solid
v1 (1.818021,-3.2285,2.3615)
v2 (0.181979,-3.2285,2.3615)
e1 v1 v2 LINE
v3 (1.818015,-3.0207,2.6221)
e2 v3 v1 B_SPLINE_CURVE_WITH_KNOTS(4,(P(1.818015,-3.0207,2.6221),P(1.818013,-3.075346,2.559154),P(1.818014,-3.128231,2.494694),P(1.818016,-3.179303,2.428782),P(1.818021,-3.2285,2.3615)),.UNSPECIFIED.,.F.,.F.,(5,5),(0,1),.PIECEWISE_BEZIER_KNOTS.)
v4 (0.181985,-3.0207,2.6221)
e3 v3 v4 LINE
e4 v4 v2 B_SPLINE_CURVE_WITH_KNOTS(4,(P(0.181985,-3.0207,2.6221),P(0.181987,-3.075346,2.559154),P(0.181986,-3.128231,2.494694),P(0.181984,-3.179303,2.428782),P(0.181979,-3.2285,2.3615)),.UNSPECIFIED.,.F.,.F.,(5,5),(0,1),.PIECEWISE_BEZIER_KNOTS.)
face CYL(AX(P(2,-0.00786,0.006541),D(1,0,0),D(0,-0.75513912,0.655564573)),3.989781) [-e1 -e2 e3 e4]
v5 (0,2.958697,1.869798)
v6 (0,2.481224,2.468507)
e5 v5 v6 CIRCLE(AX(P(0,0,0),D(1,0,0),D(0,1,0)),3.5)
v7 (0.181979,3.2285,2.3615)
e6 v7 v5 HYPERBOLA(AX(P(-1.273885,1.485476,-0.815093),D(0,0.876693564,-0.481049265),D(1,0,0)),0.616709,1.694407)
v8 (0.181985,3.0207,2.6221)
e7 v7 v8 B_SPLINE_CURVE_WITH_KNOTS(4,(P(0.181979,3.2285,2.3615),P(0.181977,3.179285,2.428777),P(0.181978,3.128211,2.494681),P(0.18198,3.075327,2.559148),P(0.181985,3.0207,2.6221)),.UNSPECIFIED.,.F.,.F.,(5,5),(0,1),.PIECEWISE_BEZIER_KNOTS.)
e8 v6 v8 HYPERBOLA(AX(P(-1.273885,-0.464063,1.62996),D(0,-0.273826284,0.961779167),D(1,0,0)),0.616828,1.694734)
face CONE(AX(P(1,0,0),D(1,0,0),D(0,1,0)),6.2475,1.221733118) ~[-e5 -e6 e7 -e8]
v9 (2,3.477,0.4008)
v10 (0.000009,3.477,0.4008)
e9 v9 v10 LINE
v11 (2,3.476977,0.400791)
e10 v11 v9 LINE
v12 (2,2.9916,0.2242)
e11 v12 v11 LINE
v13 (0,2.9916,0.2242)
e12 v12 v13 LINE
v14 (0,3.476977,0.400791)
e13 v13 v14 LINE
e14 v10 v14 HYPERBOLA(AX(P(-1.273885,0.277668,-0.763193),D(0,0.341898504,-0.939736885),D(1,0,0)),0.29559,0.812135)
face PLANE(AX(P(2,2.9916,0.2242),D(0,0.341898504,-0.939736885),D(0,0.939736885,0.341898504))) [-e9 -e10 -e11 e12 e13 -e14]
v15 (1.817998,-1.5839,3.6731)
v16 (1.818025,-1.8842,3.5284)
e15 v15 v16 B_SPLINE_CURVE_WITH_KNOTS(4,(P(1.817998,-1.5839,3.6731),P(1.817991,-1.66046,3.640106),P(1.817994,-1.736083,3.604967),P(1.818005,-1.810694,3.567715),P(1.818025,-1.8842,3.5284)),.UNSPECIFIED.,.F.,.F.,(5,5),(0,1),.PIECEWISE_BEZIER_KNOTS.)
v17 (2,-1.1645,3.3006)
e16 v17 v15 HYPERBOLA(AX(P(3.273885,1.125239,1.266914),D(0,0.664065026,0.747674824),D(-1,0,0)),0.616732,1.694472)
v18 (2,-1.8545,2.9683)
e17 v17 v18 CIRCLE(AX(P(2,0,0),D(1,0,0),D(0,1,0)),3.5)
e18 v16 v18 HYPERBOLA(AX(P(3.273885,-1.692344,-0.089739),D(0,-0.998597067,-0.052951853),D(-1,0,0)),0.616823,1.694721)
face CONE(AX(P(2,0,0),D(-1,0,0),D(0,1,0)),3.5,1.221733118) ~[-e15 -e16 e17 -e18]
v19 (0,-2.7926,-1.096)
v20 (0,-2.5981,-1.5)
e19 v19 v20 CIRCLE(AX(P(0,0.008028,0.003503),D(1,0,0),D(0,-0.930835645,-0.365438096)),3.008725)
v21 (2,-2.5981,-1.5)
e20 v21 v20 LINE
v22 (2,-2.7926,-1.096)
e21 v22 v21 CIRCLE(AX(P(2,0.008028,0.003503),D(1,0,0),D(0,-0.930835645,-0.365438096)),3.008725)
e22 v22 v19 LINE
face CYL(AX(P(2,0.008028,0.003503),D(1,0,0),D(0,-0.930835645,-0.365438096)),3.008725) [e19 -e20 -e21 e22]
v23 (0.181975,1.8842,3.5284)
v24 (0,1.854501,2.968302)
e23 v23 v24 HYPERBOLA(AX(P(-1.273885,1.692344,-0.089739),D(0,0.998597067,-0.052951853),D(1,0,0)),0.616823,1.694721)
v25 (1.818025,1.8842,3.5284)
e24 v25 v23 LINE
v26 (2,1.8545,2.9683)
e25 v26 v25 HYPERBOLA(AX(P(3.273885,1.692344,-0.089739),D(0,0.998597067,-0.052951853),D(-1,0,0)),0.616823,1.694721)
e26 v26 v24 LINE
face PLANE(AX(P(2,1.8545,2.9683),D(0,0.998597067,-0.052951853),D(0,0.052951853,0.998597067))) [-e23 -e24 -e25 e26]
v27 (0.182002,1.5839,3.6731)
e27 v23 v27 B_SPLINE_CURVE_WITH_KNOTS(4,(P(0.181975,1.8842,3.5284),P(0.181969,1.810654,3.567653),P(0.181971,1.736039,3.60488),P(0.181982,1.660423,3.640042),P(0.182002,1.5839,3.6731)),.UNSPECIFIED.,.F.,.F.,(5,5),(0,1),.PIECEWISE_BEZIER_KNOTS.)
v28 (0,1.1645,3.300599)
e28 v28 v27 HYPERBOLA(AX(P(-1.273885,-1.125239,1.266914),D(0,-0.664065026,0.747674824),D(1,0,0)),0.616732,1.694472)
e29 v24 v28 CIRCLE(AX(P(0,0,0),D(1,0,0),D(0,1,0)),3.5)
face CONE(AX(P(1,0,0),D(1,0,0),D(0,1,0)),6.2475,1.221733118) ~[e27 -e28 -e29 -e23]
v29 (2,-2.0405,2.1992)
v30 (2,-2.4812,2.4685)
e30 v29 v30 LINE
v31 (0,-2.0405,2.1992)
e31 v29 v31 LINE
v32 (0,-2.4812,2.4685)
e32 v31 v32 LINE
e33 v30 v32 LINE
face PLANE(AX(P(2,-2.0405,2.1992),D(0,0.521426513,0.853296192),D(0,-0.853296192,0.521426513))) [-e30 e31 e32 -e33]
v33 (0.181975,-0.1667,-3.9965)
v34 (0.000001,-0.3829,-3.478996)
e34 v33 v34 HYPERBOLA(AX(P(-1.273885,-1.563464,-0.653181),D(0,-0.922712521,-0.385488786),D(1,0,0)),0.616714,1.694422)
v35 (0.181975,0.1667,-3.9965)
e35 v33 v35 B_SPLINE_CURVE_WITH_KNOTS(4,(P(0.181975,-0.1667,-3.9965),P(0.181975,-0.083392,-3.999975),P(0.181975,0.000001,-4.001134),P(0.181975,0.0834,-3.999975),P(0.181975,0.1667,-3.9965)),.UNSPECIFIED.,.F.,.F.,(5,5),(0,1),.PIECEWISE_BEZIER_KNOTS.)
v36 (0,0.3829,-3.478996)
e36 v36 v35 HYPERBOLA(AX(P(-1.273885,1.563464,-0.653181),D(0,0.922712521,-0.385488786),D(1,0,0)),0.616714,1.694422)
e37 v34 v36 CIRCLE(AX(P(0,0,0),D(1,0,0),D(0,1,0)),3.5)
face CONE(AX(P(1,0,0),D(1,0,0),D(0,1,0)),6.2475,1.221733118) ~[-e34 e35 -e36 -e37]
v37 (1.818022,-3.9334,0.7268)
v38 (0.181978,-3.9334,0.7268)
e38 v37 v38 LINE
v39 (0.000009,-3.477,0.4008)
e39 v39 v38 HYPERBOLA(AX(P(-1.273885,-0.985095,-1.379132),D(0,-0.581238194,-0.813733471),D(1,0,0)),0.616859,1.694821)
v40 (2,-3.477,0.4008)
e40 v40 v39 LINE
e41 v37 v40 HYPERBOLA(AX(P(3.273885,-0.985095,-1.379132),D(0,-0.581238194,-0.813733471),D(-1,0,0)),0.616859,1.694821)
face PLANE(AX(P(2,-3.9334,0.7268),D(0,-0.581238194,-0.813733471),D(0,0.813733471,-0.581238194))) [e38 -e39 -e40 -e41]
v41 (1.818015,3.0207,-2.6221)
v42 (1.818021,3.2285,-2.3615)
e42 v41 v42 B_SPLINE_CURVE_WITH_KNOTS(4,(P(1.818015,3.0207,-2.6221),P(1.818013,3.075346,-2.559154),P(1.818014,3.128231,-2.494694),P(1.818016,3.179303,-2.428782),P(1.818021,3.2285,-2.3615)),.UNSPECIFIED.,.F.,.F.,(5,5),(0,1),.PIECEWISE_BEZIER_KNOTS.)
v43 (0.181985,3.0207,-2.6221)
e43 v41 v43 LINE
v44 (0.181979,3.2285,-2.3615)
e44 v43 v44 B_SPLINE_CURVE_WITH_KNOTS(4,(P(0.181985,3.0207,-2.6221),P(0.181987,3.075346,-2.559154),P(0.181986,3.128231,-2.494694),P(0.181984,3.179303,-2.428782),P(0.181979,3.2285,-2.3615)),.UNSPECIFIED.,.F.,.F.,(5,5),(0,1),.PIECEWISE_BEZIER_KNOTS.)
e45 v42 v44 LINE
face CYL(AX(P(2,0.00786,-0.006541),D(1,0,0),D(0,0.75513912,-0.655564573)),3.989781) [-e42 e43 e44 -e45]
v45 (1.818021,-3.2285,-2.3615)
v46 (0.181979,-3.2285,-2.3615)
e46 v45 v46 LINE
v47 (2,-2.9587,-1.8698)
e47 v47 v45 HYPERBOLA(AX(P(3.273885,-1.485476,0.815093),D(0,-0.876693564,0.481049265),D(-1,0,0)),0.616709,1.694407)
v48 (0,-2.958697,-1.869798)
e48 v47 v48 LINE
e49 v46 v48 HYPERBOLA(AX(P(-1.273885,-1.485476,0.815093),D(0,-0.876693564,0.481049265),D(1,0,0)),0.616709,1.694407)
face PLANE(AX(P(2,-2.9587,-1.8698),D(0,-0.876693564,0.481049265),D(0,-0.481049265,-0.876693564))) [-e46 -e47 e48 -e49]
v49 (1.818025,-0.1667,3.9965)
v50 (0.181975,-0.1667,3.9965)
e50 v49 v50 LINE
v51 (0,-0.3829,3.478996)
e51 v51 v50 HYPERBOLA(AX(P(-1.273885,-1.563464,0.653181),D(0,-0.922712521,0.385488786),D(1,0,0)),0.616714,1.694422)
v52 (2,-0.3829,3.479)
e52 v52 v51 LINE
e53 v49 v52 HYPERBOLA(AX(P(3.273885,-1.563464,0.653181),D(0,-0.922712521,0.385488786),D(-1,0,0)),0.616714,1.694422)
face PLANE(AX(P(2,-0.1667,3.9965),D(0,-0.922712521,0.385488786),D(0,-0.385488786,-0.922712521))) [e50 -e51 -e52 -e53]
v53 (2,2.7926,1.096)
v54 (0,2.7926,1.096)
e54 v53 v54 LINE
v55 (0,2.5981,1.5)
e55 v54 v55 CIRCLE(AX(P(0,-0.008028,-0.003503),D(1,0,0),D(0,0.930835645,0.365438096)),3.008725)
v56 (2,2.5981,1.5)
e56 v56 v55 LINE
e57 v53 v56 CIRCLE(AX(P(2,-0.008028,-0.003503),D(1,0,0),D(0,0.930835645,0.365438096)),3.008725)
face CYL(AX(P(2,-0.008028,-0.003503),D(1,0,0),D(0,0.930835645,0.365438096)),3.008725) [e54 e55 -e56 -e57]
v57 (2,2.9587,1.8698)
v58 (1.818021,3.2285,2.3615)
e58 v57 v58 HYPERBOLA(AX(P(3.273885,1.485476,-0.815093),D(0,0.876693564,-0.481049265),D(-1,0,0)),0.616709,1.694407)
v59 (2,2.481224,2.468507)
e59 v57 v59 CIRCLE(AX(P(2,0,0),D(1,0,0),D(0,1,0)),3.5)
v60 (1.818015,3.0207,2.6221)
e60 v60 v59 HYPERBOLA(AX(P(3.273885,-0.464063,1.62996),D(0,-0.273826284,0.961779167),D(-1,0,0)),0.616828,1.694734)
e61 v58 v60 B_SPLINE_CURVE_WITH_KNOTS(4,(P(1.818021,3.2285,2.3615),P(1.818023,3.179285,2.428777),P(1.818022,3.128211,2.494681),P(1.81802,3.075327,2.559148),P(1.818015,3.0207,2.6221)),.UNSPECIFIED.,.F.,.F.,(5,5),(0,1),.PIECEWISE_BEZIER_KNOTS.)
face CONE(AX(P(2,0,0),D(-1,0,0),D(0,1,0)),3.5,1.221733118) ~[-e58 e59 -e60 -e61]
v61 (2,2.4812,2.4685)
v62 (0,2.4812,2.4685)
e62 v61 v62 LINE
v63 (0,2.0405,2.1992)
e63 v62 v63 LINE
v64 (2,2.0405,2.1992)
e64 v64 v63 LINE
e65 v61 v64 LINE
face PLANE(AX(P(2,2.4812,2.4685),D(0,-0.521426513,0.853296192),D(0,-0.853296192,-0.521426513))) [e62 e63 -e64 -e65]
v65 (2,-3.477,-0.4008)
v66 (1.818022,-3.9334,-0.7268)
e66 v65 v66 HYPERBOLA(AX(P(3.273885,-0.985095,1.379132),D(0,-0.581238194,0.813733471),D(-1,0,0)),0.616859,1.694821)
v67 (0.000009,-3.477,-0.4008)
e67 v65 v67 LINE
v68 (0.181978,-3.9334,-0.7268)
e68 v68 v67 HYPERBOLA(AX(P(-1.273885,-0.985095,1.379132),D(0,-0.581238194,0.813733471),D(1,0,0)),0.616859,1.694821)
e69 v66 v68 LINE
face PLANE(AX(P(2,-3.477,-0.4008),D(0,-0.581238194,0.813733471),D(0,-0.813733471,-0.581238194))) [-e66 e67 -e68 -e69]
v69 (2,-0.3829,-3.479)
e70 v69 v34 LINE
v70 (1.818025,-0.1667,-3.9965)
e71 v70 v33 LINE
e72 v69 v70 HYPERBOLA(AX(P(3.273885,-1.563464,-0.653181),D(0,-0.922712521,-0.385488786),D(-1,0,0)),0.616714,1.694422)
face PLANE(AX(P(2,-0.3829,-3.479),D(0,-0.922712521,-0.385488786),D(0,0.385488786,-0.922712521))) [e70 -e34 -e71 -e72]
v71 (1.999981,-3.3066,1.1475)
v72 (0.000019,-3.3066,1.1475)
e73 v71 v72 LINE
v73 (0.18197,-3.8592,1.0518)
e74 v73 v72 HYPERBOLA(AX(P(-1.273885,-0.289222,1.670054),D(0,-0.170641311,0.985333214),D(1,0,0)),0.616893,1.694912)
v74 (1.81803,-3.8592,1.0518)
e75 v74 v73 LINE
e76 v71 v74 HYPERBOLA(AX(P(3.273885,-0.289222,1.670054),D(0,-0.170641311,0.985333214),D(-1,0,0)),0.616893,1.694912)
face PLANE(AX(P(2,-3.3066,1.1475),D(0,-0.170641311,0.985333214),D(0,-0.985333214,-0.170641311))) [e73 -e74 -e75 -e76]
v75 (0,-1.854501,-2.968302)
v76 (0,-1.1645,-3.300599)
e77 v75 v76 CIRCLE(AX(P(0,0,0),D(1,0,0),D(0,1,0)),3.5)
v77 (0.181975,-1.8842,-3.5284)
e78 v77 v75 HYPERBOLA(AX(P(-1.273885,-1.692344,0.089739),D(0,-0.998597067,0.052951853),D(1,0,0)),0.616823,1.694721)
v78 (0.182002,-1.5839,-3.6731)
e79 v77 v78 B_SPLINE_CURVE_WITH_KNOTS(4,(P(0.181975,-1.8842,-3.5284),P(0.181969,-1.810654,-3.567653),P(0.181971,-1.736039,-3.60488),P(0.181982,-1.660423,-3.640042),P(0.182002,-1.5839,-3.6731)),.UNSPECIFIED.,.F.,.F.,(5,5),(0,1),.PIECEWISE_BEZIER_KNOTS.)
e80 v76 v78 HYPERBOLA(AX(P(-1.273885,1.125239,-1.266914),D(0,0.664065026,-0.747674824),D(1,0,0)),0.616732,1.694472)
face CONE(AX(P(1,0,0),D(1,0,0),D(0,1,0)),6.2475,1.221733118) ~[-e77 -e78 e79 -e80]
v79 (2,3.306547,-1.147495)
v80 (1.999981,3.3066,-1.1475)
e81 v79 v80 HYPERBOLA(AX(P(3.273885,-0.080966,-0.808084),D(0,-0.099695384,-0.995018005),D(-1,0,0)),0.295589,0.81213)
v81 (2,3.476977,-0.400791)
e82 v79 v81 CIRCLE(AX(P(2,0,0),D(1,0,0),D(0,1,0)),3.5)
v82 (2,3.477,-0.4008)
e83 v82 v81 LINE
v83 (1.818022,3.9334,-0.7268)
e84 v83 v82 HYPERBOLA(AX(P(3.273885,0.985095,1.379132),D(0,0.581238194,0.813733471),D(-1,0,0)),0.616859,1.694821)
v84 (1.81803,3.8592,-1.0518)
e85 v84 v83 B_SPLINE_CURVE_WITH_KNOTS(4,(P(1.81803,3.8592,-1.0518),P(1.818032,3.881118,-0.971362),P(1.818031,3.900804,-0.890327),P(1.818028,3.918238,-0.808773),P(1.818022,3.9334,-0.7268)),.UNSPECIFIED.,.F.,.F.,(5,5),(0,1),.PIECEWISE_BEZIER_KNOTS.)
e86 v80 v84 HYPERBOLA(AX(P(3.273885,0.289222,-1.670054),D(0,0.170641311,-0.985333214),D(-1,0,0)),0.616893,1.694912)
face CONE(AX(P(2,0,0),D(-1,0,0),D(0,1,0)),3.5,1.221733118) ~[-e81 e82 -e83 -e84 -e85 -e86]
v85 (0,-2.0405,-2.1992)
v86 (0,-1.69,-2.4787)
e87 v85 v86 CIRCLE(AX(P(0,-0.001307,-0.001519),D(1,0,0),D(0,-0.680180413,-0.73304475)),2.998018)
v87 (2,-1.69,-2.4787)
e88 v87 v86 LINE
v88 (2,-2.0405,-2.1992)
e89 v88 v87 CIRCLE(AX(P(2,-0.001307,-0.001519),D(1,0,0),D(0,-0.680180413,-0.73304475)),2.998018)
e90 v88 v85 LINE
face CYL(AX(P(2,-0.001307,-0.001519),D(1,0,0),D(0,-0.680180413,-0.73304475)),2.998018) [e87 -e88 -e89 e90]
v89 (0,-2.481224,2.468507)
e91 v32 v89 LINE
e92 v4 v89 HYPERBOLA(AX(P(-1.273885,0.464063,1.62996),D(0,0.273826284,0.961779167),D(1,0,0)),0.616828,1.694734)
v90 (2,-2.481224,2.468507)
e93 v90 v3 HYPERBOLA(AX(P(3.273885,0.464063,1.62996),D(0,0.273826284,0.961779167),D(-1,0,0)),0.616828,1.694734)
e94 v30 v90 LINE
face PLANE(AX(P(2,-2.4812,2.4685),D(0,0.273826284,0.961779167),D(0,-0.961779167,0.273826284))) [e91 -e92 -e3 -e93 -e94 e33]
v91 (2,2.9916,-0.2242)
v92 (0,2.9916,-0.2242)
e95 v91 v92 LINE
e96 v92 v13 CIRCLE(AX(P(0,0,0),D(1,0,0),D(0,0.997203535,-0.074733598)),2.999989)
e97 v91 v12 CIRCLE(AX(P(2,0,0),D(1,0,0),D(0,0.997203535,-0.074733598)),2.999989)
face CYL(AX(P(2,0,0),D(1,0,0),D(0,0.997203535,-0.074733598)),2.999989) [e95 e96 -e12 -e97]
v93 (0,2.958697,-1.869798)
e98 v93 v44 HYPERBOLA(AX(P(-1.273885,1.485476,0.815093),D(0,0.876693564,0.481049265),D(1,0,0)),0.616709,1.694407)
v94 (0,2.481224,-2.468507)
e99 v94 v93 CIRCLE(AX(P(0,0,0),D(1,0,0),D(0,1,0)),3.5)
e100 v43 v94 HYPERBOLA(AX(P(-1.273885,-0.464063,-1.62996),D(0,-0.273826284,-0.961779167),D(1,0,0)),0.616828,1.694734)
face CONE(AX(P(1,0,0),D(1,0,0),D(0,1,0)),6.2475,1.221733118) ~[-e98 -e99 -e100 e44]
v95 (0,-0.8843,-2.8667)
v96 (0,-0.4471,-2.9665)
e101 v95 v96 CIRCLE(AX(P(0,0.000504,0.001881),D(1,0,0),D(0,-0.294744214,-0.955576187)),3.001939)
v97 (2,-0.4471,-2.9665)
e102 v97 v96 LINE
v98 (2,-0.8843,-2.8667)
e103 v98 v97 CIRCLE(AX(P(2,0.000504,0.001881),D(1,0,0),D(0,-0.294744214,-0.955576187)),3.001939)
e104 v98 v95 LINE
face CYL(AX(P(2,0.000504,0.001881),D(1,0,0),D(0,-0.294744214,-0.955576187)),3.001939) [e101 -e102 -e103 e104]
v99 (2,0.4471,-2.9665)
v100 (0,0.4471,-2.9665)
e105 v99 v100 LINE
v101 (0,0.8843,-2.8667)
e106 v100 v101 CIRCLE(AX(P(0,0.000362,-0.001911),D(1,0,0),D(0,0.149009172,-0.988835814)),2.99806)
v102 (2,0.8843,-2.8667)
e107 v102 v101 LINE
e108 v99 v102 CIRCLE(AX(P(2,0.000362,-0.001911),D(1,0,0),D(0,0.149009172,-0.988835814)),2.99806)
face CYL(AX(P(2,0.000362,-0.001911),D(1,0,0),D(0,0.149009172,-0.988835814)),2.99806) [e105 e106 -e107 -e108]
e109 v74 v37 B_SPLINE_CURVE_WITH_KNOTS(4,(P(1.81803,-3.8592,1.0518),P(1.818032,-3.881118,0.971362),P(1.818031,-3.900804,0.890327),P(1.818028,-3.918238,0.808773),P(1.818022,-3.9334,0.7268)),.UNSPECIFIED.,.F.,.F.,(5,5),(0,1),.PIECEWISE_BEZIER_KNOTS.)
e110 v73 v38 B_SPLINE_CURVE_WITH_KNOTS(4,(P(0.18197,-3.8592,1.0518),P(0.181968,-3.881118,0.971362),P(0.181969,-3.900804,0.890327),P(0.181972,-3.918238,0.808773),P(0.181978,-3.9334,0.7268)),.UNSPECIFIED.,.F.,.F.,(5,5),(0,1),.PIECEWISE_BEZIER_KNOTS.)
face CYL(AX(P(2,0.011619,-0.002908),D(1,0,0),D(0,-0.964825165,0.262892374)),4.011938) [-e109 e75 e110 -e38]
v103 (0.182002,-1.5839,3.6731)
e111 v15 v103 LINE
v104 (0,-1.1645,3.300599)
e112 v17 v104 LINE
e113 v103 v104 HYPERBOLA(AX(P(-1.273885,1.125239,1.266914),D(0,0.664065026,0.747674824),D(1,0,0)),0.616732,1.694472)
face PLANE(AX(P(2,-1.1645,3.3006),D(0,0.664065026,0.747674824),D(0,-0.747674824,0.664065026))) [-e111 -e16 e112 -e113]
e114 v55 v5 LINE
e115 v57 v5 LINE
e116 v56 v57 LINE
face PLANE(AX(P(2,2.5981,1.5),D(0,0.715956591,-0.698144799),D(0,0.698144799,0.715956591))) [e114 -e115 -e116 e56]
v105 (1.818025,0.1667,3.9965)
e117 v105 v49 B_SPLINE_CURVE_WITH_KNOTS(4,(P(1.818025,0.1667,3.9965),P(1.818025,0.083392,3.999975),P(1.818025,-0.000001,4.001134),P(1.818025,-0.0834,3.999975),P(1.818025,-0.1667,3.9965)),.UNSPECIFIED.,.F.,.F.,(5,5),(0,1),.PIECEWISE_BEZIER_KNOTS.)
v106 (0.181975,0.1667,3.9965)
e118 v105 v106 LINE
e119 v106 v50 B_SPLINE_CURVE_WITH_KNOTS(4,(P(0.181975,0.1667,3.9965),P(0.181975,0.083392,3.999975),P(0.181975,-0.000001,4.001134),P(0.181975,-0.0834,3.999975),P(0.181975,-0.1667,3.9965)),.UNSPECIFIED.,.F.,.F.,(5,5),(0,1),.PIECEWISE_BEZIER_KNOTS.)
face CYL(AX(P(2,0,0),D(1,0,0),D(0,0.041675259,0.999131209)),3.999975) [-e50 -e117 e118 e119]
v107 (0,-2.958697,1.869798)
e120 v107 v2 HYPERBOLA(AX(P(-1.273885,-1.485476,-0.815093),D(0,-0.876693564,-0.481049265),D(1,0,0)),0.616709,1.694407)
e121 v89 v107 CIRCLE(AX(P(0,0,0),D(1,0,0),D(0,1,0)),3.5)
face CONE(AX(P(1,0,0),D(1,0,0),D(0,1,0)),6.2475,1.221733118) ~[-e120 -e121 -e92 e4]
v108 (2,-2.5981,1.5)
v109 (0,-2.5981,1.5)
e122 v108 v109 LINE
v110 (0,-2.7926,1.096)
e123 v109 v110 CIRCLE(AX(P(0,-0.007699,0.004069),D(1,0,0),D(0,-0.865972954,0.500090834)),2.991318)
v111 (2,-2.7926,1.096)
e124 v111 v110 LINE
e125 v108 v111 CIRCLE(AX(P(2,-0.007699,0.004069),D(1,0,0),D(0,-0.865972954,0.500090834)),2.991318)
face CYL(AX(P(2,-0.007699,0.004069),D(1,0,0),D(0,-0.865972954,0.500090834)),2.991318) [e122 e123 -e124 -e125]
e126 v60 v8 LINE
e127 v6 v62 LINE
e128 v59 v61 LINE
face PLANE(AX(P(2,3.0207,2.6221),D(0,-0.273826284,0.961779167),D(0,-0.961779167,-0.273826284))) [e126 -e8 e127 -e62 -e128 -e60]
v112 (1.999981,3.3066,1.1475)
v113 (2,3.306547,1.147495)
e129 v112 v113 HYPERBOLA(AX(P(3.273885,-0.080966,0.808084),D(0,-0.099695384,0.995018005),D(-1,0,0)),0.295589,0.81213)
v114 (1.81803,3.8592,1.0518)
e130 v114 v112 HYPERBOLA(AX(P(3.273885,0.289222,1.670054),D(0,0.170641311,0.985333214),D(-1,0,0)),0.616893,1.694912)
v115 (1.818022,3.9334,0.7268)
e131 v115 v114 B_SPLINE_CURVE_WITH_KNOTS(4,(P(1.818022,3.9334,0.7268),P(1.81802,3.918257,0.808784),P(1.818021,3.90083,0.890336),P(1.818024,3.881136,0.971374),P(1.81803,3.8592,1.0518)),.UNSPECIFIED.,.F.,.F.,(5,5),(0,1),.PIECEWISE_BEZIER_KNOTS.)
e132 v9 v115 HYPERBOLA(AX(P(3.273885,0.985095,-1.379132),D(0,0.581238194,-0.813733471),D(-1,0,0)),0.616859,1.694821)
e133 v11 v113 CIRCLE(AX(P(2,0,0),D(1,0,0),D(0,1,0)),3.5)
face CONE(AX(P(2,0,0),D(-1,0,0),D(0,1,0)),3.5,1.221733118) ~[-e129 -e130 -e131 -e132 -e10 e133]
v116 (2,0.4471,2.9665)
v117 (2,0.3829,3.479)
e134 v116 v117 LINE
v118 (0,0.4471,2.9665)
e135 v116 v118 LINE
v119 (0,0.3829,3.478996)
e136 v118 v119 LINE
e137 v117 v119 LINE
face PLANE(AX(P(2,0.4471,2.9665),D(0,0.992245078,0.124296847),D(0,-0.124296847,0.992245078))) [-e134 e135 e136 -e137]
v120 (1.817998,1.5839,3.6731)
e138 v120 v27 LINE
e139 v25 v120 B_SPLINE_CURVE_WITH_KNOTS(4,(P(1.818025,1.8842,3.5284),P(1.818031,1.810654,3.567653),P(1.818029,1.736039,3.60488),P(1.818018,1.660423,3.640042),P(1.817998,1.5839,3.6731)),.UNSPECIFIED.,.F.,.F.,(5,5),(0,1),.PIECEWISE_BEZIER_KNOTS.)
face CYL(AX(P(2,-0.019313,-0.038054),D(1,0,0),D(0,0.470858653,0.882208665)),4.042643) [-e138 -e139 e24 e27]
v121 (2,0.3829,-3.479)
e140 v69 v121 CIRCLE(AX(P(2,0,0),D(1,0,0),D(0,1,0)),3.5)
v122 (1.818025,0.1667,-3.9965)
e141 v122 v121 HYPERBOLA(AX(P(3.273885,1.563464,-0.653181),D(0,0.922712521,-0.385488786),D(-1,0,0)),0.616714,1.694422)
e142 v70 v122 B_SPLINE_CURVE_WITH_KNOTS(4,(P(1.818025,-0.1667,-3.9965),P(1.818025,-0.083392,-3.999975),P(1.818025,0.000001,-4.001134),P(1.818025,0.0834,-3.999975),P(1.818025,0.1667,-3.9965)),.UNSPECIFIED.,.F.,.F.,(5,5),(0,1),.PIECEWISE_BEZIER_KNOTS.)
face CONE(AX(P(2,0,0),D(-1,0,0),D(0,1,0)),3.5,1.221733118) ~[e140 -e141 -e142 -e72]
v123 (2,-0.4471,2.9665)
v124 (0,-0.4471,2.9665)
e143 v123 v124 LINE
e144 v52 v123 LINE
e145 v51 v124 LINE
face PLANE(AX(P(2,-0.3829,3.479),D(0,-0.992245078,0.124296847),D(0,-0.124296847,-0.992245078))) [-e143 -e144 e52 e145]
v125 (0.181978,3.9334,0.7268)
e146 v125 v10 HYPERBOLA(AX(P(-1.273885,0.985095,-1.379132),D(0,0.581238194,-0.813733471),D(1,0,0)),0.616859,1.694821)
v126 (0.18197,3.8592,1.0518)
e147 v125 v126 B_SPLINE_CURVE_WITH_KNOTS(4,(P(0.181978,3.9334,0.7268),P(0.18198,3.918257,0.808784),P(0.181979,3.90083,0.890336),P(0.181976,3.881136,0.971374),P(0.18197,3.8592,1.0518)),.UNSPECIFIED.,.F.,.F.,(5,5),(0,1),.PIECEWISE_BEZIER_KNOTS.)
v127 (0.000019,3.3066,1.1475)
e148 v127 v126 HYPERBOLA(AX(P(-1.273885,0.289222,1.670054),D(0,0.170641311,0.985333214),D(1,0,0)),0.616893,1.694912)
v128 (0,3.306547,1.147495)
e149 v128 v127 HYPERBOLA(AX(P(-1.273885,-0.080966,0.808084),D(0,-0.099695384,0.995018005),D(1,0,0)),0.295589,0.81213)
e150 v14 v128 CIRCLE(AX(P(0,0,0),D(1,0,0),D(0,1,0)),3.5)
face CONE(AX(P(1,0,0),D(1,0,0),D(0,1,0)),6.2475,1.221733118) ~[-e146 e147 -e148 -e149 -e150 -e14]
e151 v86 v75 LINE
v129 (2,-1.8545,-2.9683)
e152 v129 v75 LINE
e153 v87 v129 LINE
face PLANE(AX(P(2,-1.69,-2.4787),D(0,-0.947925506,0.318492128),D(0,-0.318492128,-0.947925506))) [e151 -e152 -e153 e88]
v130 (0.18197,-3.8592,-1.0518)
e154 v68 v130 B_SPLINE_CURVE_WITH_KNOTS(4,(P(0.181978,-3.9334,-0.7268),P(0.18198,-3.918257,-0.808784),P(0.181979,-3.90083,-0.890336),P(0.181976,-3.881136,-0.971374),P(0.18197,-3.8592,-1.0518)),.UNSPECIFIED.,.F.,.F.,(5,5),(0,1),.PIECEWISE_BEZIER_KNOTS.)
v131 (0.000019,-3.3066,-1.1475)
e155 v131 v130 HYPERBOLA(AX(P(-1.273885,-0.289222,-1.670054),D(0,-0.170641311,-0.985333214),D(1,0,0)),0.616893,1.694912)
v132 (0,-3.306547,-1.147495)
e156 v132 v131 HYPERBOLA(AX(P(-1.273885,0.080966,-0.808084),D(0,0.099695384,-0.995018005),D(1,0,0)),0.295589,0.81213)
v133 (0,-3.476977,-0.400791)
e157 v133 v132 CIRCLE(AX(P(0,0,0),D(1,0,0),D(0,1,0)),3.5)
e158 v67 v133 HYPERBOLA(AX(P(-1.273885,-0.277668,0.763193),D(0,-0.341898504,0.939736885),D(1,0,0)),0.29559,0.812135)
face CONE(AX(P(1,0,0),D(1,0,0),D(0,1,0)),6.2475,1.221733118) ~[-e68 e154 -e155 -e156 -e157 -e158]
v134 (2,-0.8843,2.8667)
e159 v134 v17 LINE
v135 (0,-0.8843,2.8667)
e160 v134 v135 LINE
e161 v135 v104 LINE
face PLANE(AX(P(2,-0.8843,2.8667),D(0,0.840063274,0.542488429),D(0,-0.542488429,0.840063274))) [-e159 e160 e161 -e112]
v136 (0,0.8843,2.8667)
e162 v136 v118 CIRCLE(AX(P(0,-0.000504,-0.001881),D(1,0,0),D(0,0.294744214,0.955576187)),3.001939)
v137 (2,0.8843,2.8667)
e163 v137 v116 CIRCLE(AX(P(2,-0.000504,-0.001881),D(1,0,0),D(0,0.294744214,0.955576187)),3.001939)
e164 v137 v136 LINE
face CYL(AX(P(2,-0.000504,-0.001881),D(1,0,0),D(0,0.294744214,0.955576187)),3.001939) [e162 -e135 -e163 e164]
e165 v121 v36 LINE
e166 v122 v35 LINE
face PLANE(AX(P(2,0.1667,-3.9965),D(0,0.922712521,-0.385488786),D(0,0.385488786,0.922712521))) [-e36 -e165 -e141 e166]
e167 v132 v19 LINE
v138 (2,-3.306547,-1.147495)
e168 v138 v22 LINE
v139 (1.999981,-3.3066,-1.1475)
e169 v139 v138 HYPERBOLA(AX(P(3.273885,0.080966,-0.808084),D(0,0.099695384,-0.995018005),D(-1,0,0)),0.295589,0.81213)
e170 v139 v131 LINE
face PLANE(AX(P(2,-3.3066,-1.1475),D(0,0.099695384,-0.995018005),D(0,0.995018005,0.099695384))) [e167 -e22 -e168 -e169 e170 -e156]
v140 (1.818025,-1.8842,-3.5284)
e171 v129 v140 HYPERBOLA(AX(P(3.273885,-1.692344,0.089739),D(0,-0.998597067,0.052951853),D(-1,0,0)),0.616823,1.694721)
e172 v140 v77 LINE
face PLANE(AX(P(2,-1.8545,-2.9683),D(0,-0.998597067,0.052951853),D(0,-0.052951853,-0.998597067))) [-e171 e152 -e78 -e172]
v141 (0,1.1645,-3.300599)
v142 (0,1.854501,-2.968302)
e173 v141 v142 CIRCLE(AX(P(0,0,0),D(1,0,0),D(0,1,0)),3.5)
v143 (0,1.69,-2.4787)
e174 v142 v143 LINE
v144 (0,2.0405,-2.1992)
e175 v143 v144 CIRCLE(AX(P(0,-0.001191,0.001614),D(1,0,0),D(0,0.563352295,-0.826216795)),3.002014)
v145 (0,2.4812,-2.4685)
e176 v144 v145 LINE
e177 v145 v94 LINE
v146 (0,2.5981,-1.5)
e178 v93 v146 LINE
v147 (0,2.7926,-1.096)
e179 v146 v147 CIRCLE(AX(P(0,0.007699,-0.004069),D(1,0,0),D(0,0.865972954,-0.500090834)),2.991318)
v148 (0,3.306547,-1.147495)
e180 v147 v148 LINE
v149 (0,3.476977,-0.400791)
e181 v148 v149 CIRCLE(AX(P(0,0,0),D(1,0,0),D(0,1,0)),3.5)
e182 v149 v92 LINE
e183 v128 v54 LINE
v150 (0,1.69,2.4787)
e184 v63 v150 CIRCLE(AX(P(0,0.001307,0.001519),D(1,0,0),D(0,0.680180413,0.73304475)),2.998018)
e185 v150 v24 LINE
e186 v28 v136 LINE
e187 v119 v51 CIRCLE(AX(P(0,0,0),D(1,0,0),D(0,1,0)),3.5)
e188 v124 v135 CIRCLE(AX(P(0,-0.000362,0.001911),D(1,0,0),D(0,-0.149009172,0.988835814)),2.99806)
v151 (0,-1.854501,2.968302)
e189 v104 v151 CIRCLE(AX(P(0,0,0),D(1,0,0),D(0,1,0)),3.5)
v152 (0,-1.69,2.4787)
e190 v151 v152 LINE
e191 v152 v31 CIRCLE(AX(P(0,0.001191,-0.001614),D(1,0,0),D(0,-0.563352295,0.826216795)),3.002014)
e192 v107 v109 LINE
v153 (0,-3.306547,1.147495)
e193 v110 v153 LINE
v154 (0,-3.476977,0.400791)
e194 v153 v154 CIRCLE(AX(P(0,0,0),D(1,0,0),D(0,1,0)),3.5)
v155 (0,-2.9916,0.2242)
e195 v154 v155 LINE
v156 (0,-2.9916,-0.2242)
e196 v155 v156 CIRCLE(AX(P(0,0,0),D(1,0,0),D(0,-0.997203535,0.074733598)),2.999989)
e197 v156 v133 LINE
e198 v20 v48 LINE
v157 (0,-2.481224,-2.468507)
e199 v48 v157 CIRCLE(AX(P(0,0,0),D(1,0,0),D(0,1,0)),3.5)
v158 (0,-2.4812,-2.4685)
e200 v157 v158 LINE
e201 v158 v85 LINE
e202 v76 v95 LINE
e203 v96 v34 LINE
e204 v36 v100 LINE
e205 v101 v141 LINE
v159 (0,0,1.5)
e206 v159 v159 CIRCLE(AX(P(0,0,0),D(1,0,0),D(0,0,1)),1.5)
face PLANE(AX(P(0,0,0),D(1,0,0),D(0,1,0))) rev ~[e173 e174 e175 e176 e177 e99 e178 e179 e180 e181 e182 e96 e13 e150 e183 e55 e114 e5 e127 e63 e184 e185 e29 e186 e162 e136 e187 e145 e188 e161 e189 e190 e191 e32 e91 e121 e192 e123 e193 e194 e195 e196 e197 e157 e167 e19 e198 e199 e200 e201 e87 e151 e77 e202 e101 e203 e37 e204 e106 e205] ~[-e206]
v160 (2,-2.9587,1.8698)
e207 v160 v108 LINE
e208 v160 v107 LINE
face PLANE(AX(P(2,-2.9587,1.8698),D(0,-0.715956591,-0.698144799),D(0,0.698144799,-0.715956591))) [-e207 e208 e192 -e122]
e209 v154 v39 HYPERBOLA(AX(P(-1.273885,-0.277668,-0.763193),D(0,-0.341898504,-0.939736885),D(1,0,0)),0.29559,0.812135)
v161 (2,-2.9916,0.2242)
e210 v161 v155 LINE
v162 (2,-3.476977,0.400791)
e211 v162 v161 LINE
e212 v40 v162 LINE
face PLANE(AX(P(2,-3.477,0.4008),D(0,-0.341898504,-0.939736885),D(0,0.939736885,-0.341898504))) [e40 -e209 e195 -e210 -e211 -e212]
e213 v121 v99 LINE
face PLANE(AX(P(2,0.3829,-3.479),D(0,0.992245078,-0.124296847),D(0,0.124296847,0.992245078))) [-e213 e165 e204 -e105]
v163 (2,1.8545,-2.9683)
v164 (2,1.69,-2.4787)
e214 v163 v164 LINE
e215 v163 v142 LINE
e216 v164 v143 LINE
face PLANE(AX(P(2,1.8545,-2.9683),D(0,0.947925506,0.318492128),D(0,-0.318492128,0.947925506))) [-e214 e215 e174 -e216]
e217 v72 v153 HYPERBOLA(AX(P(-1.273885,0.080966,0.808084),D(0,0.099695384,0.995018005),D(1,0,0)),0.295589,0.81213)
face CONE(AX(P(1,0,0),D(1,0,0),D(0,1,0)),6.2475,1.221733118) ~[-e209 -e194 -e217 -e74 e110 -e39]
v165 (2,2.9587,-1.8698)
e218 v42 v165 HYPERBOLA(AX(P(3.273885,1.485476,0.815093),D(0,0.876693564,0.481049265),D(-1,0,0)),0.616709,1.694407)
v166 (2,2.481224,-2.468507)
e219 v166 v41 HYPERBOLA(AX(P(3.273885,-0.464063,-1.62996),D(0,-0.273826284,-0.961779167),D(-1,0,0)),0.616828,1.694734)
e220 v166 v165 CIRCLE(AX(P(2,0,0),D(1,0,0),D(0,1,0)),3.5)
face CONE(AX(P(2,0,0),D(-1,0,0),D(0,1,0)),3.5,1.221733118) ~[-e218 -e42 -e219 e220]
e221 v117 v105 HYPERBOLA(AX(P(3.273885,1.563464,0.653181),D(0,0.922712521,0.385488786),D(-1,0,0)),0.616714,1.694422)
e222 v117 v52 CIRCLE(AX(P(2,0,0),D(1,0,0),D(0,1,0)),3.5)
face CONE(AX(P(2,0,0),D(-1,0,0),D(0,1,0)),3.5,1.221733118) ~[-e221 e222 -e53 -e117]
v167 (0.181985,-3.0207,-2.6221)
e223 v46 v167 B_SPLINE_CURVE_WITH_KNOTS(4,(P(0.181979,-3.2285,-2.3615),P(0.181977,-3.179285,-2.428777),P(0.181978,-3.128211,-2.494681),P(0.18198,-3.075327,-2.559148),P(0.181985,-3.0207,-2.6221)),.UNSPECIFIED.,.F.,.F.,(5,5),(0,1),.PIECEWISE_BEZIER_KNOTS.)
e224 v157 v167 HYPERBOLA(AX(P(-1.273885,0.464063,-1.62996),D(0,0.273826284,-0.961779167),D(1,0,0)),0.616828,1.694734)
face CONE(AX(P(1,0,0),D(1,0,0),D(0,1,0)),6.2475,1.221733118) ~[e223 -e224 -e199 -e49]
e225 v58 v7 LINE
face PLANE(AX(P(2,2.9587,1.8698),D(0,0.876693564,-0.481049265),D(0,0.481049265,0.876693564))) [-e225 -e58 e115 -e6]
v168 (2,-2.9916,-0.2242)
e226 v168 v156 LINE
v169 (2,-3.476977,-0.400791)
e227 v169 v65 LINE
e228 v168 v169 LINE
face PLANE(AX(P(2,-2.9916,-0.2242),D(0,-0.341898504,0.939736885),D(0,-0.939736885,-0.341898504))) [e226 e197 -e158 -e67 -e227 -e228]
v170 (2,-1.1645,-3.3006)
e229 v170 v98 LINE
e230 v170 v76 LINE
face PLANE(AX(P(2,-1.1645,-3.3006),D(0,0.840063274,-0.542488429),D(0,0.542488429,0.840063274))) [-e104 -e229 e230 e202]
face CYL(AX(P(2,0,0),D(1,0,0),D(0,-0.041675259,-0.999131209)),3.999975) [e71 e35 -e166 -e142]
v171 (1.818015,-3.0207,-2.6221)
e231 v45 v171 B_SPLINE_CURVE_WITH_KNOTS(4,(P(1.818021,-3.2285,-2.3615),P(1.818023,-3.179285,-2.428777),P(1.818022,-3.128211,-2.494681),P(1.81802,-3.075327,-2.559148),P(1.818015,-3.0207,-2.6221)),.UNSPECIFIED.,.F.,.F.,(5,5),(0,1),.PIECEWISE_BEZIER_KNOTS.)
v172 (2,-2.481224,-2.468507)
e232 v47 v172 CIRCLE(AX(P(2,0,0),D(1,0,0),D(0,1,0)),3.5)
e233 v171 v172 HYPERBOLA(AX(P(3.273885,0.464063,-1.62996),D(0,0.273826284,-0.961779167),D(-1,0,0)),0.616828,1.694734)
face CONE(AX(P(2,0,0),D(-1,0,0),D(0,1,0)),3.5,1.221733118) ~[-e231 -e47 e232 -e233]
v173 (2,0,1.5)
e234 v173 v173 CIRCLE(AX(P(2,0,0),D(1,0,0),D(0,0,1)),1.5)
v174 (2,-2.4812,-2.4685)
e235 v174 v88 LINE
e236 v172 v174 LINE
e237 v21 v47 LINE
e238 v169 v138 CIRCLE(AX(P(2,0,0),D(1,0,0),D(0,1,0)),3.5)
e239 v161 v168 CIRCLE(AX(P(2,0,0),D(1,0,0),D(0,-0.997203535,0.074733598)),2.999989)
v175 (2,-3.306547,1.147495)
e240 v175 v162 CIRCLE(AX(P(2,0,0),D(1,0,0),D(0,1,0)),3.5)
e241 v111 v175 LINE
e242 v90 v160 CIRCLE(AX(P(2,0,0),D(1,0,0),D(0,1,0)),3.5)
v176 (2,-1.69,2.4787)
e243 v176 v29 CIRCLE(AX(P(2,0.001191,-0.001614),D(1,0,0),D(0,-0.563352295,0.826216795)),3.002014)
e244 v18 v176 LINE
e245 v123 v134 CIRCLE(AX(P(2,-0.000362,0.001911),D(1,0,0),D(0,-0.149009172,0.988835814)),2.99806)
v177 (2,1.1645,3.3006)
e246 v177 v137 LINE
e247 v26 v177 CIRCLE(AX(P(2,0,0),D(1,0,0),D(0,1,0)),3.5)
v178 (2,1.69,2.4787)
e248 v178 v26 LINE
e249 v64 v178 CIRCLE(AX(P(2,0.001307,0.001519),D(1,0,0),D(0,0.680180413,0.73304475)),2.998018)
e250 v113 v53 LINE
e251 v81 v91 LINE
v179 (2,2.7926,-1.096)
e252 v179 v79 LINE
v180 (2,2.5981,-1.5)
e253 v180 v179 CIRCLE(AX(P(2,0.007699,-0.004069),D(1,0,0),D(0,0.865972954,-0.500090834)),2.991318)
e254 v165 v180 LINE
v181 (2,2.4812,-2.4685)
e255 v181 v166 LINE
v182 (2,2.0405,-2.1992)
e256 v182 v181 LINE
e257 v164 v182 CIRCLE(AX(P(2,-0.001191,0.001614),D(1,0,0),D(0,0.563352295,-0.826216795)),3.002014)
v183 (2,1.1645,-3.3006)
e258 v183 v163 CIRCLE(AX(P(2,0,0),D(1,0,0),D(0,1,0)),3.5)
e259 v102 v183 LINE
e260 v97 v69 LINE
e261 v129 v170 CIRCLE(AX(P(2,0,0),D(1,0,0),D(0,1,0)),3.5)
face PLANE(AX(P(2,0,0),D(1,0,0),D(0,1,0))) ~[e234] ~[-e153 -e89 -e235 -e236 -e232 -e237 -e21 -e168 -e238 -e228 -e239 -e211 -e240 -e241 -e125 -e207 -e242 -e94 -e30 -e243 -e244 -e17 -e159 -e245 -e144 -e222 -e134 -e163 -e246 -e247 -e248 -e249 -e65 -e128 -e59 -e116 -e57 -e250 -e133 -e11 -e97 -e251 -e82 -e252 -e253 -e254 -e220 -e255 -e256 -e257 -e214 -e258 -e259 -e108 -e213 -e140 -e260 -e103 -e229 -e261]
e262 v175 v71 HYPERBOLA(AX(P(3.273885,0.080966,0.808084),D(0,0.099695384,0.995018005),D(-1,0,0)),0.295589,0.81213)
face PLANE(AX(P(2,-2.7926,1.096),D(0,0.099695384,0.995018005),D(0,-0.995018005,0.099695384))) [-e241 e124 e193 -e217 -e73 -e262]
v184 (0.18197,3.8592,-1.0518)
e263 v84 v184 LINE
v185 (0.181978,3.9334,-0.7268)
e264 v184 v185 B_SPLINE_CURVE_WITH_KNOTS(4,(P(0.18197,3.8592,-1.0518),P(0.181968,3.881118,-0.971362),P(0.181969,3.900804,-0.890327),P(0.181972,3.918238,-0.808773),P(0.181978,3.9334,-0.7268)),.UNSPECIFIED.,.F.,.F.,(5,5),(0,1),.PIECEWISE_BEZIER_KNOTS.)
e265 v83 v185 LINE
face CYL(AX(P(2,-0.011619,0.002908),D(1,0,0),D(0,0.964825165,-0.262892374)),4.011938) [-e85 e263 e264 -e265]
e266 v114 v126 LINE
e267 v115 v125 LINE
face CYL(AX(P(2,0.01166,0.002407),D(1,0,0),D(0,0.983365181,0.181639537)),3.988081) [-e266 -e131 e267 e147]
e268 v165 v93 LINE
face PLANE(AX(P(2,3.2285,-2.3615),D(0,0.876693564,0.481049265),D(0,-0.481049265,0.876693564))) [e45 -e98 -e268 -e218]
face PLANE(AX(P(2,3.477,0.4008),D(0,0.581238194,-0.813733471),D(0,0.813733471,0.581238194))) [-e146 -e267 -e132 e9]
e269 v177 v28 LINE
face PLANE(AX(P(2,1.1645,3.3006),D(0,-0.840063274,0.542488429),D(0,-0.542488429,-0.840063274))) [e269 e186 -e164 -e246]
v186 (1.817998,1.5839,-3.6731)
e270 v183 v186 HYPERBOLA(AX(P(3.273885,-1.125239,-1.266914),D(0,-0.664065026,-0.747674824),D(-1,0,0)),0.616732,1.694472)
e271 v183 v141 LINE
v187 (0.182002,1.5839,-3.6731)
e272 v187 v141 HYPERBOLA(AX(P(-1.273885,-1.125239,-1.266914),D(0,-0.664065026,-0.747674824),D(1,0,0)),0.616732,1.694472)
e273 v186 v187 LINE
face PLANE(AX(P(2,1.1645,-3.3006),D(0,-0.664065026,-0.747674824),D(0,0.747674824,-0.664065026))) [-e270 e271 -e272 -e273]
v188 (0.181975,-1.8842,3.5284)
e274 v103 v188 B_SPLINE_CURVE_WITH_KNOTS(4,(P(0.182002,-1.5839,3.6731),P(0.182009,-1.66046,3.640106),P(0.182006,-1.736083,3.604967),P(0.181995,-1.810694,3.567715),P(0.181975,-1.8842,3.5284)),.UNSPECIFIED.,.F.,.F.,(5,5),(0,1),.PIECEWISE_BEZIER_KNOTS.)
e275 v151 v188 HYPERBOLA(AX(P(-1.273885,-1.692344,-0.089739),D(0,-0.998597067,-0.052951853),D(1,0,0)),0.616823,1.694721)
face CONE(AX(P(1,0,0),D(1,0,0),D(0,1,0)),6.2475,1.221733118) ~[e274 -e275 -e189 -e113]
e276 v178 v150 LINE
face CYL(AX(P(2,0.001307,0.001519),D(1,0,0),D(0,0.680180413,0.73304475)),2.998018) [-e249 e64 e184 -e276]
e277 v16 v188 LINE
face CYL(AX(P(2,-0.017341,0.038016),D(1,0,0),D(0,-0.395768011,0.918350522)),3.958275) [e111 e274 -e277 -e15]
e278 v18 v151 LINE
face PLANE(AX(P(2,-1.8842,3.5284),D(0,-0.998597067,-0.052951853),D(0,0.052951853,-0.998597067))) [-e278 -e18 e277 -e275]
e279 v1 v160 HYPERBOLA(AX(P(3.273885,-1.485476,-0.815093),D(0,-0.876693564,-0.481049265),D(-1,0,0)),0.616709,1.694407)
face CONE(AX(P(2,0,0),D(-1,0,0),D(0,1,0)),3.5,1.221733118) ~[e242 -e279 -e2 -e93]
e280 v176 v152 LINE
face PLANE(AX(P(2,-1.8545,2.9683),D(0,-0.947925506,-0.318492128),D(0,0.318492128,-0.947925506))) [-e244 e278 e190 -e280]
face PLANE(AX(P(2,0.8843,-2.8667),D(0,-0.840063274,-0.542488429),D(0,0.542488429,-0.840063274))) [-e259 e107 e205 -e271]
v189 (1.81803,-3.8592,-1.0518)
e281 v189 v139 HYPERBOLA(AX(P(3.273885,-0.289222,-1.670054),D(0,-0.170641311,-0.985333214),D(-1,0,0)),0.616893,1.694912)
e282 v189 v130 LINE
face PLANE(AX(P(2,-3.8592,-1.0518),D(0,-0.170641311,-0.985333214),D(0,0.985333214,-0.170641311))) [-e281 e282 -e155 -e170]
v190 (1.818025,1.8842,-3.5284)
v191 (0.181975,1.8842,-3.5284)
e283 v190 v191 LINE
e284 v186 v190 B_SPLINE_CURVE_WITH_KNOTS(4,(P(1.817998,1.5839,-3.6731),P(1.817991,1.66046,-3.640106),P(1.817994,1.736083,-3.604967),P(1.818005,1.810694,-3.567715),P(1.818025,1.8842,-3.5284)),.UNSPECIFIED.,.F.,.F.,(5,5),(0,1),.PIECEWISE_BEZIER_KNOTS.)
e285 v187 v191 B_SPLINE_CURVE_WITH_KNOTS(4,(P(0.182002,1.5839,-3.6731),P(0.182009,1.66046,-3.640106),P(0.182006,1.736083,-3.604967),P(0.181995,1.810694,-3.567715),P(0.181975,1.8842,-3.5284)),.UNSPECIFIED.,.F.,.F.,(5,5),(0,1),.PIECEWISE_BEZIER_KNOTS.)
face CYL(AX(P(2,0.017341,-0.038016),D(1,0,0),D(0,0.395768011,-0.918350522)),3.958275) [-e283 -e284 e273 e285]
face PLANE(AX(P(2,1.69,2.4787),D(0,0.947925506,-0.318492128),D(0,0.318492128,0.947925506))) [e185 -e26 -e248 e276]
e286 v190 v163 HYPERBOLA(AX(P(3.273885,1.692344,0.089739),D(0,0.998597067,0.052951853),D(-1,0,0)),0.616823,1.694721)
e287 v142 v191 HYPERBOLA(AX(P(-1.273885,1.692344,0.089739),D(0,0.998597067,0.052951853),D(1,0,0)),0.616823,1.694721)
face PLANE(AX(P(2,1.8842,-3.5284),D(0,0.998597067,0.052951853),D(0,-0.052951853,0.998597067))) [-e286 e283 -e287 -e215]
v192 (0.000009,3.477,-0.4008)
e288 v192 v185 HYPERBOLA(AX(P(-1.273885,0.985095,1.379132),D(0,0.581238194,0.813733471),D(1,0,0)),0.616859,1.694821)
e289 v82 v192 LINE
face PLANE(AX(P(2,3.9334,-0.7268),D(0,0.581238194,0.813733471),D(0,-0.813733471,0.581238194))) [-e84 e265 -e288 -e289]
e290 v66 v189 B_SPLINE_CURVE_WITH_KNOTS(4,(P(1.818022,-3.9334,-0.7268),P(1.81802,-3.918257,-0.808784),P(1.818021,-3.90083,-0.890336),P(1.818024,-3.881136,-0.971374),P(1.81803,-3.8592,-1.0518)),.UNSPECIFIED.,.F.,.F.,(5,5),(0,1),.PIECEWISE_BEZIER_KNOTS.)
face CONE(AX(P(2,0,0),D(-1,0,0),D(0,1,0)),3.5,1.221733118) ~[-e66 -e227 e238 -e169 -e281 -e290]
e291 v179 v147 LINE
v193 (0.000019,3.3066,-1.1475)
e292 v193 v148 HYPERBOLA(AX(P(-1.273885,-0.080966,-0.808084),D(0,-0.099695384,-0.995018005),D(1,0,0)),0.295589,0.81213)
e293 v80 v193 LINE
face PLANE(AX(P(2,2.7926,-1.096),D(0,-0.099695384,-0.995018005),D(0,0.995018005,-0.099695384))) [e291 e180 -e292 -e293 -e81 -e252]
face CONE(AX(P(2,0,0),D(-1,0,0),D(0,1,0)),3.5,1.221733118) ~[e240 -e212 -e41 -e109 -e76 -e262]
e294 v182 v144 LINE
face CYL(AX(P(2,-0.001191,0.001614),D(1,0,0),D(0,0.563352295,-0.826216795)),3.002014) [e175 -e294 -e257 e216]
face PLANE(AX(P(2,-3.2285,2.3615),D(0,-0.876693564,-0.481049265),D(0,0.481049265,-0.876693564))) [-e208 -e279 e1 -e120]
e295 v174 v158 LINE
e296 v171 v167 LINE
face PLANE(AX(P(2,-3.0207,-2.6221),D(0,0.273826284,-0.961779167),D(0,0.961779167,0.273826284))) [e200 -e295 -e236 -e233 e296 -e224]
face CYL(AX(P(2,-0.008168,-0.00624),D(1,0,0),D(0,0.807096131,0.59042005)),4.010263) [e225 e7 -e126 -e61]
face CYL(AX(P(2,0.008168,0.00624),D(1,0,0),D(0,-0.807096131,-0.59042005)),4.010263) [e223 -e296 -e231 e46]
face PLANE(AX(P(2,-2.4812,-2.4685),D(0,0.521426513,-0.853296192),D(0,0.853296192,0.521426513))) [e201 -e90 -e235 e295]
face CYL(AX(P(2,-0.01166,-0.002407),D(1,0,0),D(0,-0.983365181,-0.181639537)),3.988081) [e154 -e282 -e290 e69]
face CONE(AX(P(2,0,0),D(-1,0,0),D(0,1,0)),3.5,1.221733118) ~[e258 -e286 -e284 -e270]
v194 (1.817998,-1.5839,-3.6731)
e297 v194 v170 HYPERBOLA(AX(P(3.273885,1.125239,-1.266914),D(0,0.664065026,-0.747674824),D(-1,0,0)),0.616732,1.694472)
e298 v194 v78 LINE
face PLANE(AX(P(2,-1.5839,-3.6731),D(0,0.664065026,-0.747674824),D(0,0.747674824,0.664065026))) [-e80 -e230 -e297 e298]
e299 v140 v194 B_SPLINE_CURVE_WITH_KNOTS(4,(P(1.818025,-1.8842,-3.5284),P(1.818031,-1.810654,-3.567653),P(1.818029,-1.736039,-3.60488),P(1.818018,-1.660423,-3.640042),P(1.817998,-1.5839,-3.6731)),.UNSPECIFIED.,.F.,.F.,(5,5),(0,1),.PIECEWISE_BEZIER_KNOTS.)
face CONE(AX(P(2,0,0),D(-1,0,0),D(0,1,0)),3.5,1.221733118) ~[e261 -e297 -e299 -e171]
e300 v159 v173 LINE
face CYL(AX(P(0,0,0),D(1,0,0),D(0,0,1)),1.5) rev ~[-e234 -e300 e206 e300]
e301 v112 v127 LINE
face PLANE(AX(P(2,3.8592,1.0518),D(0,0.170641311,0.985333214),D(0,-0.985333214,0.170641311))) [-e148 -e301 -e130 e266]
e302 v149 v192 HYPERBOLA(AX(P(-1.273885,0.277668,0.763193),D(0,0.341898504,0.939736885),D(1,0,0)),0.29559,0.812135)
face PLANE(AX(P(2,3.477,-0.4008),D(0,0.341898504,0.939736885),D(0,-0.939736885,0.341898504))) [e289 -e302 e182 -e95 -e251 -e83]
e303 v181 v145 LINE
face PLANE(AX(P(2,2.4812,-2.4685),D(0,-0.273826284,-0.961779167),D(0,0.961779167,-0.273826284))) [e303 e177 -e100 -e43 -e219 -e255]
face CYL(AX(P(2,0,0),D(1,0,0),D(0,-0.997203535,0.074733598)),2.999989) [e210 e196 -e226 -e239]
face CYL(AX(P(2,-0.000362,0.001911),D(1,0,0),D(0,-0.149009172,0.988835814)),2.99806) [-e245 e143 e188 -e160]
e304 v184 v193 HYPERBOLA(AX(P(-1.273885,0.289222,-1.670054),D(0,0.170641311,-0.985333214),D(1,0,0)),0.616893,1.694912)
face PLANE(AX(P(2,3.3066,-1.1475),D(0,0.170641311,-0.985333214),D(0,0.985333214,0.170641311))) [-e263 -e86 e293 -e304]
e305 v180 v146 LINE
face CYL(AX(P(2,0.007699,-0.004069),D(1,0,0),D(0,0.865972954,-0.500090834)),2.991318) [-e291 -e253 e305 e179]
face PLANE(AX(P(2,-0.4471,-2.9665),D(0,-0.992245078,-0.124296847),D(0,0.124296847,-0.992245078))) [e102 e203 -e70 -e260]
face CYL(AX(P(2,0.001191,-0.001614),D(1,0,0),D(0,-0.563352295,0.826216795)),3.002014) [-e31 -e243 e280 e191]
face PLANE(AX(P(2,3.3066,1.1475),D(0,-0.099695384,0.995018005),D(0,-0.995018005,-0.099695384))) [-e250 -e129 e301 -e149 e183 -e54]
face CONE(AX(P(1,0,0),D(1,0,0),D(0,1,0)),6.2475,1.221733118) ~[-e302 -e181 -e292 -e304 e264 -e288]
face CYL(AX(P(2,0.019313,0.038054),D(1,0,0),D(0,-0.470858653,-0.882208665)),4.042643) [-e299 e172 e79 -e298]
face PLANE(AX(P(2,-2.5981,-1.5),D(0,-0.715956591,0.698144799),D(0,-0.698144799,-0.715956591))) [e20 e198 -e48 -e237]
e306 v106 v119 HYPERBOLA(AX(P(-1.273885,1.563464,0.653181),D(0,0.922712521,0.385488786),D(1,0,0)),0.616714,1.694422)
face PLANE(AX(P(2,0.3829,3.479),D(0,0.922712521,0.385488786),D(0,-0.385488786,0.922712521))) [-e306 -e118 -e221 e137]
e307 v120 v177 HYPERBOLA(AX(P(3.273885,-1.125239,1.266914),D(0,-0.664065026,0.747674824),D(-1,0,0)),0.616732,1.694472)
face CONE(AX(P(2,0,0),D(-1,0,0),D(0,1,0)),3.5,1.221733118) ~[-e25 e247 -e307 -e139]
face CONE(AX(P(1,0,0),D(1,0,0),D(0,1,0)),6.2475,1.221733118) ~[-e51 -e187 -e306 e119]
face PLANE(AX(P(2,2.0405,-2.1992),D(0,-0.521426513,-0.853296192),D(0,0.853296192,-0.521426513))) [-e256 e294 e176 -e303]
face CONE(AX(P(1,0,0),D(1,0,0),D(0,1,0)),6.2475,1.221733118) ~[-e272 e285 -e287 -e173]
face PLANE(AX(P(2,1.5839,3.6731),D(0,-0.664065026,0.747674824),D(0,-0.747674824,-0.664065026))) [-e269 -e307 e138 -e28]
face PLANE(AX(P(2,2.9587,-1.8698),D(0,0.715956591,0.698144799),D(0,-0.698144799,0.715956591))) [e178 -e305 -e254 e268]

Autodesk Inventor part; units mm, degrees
ref_plane "YZ Plane" through (0, 0, 0) normal (1, 0, 0) x (0, 1, 0)
ref_plane "XZ Plane" through (0, 0, 0) normal (0, 1, 0) x (-1, 0, 0)
ref_plane "XY Plane" through (0, 0, 0) normal (0, 0, 1) x (1, 0, 0)
sketch "Skizze_1" plane through (0, 0, 0) normal (0, 0, 1) x (1, 0, 0)
  line L0 (6, 0) -> (0, 0)
  line L1 (0, 1) -> (6, 1)
  line L2 (6, 1) -> (6, 2.5)
  line L3 (6, 2.5) -> (2, 2.5)
  line L4 (2, 2.5) -> (2, 3.5)
  line L5 (2, 3.5) -> (1, 6.2475)
  line L6 (1, 6.2475) -> (0, 3.5)
  line L7 (0, 3.5) -> (0, 1)
revolve "Revolution1" add sketch "Skizze_1" angle 360 about axis through (6, 0, 0) along (1, 0, 0)
sketch "Skizze_2" plane through (2, 0, 0) normal (1, 0, 0) x (0, 0, -1)
  circle A0 centre (0, 0) radius 12
  arc A1 (-3.9965, 0.1667) -> (-3.9965, -0.1667) centre (0, 0) ccw
  line L0 (-3.9965, -0.1667) -> (-3.479, -0.3829)
  line L1 (-3.479, -0.3829) -> (-2.9665, -0.4471)
  arc A2 (-2.9665, -0.4471) -> (-2.8667, -0.8843) centre (0, 0) ccw
  line L2 (-2.8667, -0.8843) -> (-3.3006, -1.1645)
  line L3 (-3.3006, -1.1645) -> (-3.6731, -1.5839)
  arc A3 (-3.6731, -1.5839) -> (-3.5284, -1.8842) centre (0, 0) ccw
  line L4 (-3.5284, -1.8842) -> (-2.9683, -1.8545)
  line L5 (-2.9683, -1.8545) -> (-2.4787, -1.69)
  arc A4 (-2.4787, -1.69) -> (-2.1992, -2.0405) centre (0, 0) ccw
  line L6 (-2.1992, -2.0405) -> (-2.4685, -2.4812)
  line L7 (-2.4685, -2.4812) -> (-2.6221, -3.0207)
  arc A5 (-2.6221, -3.0207) -> (-2.3615, -3.2285) centre (0, 0) ccw
  line L8 (-2.3615, -3.2285) -> (-1.8698, -2.9587)
  line L9 (-1.8698, -2.9587) -> (-1.5, -2.5981)
  arc A6 (-1.5, -2.5981) -> (-1.096, -2.7926) centre (0, 0) ccw
  line L10 (-1.096, -2.7926) -> (-1.1475, -3.3066)
  line L11 (-1.1475, -3.3066) -> (-1.0518, -3.8592)
  arc A7 (-1.0518, -3.8592) -> (-0.7268, -3.9334) centre (0, 0) ccw
  line L12 (-0.7268, -3.9334) -> (-0.4008, -3.477)
  line L13 (-0.4008, -3.477) -> (-0.2242, -2.9916)
  arc A8 (-0.2242, -2.9916) -> (0.2242, -2.9916) centre (0, 0) ccw
  line L14 (0.2242, -2.9916) -> (0.4008, -3.477)
  line L15 (0.4008, -3.477) -> (0.7268, -3.9334)
  arc A9 (0.7268, -3.9334) -> (1.0518, -3.8592) centre (0, 0) ccw
  line L16 (1.0518, -3.8592) -> (1.1475, -3.3066)
  line L17 (1.1475, -3.3066) -> (1.096, -2.7926)
  arc A10 (1.096, -2.7926) -> (1.5, -2.5981) centre (0, 0) ccw
  line L18 (1.5, -2.5981) -> (1.8698, -2.9587)
  line L19 (1.8698, -2.9587) -> (2.3615, -3.2285)
  arc A11 (2.3615, -3.2285) -> (2.6221, -3.0207) centre (0, 0) ccw
  line L20 (2.6221, -3.0207) -> (2.4685, -2.4812)
  line L21 (2.4685, -2.4812) -> (2.1992, -2.0405)
  arc A12 (2.1992, -2.0405) -> (2.4787, -1.69) centre (0, 0) ccw
  line L22 (2.4787, -1.69) -> (2.9683, -1.8545)
  line L23 (2.9683, -1.8545) -> (3.5284, -1.8842)
  arc A13 (3.5284, -1.8842) -> (3.6731, -1.5839) centre (0, 0) ccw
  line L24 (3.6731, -1.5839) -> (3.3006, -1.1645)
  line L25 (3.3006, -1.1645) -> (2.8667, -0.8843)
  arc A14 (2.8667, -0.8843) -> (2.9665, -0.4471) centre (0, 0) ccw
  line L26 (2.9665, -0.4471) -> (3.479, -0.3829)
  line L27 (3.479, -0.3829) -> (3.9965, -0.1667)
  arc A15 (3.9965, -0.1667) -> (3.9965, 0.1667) centre (0, 0) ccw
  line L28 (3.9965, 0.1667) -> (3.479, 0.3829)
  line L29 (3.479, 0.3829) -> (2.9665, 0.4471)
  arc A16 (2.9665, 0.4471) -> (2.8667, 0.8843) centre (0, 0) ccw
  line L30 (2.8667, 0.8843) -> (3.3006, 1.1645)
  line L31 (3.3006, 1.1645) -> (3.6731, 1.5839)
  arc A17 (3.6731, 1.5839) -> (3.5284, 1.8842) centre (0, 0) ccw
  line L32 (3.5284, 1.8842) -> (2.9683, 1.8545)
  line L33 (2.9683, 1.8545) -> (2.4787, 1.69)
  arc A18 (2.4787, 1.69) -> (2.1992, 2.0405) centre (0, 0) ccw
  line L34 (2.1992, 2.0405) -> (2.4685, 2.4812)
  line L35 (2.4685, 2.4812) -> (2.6221, 3.0207)
  arc A19 (2.6221, 3.0207) -> (2.3615, 3.2285) centre (0, 0) ccw
  line L36 (2.3615, 3.2285) -> (1.8698, 2.9587)
  line L37 (1.8698, 2.9587) -> (1.5, 2.5981)
  arc A20 (1.5, 2.5981) -> (1.096, 2.7926) centre (0, 0) ccw
  line L38 (1.096, 2.7926) -> (1.1475, 3.3066)
  line L39 (1.1475, 3.3066) -> (1.0518, 3.8592)
  arc A21 (1.0518, 3.8592) -> (0.7268, 3.9334) centre (0, 0) ccw
  line L40 (0.7268, 3.9334) -> (0.4008, 3.477)
  line L41 (0.4008, 3.477) -> (0.2242, 2.9916)
  arc A22 (0.2242, 2.9916) -> (-0.2242, 2.9916) centre (0, 0) ccw
  line L42 (-0.2242, 2.9916) -> (-0.4008, 3.477)
  line L43 (-0.4008, 3.477) -> (-0.7268, 3.9334)
  arc A23 (-0.7268, 3.9334) -> (-1.0518, 3.8592) centre (0, 0) ccw
  line L44 (-1.0518, 3.8592) -> (-1.1475, 3.3066)
  line L45 (-1.1475, 3.3066) -> (-1.096, 2.7926)
  arc A24 (-1.096, 2.7926) -> (-1.5, 2.5981) centre (0, 0) ccw
  line L46 (-1.5, 2.5981) -> (-1.8698, 2.9587)
  line L47 (-1.8698, 2.9587) -> (-2.3615, 3.2285)
  arc A25 (-2.3615, 3.2285) -> (-2.6221, 3.0207) centre (0, 0) ccw
  line L48 (-2.6221, 3.0207) -> (-2.4685, 2.4812)
  line L49 (-2.4685, 2.4812) -> (-2.1992, 2.0405)
  arc A26 (-2.1992, 2.0405) -> (-2.4787, 1.69) centre (0, 0) ccw
  line L50 (-2.4787, 1.69) -> (-2.9683, 1.8545)
  line L51 (-2.9683, 1.8545) -> (-3.5284, 1.8842)
  arc A27 (-3.5284, 1.8842) -> (-3.6731, 1.5839) centre (0, 0) ccw
  line L52 (-3.6731, 1.5839) -> (-3.3006, 1.1645)
  line L53 (-3.3006, 1.1645) -> (-2.8667, 0.8843)
  arc A28 (-2.8667, 0.8843) -> (-2.9665, 0.4471) centre (0, 0) ccw
  line L54 (-2.9665, 0.4471) -> (-3.479, 0.3829)
  line L55 (-3.479, 0.3829) -> (-3.9965, 0.1667)
extrude "Extrusion1" cut sketch "Skizze_2" along normal mid plane 12
sketch "Skizze3" plane through (6, 0, 0) normal (1, 0, 0) x (0, 0, -1)
  circle A0 centre (0, 0) radius 2.5 projected
extrude "Extrusion2" cut sketch "Skizze3" against normal blind 4
sketch "Skizze4" plane through (0, 0, 0) normal (-1, 0, 0) x (0, 0, 1)
  point P0 (0, 0)
  point P1 (0, 0)
hole "Bohrung1" at (0, 0, 0) direction (1, 0, 0) diameter 3 end through all
properties part number "Zahnrad Messing z14" material "Messing, weicher Gelbton, geschweißt"
